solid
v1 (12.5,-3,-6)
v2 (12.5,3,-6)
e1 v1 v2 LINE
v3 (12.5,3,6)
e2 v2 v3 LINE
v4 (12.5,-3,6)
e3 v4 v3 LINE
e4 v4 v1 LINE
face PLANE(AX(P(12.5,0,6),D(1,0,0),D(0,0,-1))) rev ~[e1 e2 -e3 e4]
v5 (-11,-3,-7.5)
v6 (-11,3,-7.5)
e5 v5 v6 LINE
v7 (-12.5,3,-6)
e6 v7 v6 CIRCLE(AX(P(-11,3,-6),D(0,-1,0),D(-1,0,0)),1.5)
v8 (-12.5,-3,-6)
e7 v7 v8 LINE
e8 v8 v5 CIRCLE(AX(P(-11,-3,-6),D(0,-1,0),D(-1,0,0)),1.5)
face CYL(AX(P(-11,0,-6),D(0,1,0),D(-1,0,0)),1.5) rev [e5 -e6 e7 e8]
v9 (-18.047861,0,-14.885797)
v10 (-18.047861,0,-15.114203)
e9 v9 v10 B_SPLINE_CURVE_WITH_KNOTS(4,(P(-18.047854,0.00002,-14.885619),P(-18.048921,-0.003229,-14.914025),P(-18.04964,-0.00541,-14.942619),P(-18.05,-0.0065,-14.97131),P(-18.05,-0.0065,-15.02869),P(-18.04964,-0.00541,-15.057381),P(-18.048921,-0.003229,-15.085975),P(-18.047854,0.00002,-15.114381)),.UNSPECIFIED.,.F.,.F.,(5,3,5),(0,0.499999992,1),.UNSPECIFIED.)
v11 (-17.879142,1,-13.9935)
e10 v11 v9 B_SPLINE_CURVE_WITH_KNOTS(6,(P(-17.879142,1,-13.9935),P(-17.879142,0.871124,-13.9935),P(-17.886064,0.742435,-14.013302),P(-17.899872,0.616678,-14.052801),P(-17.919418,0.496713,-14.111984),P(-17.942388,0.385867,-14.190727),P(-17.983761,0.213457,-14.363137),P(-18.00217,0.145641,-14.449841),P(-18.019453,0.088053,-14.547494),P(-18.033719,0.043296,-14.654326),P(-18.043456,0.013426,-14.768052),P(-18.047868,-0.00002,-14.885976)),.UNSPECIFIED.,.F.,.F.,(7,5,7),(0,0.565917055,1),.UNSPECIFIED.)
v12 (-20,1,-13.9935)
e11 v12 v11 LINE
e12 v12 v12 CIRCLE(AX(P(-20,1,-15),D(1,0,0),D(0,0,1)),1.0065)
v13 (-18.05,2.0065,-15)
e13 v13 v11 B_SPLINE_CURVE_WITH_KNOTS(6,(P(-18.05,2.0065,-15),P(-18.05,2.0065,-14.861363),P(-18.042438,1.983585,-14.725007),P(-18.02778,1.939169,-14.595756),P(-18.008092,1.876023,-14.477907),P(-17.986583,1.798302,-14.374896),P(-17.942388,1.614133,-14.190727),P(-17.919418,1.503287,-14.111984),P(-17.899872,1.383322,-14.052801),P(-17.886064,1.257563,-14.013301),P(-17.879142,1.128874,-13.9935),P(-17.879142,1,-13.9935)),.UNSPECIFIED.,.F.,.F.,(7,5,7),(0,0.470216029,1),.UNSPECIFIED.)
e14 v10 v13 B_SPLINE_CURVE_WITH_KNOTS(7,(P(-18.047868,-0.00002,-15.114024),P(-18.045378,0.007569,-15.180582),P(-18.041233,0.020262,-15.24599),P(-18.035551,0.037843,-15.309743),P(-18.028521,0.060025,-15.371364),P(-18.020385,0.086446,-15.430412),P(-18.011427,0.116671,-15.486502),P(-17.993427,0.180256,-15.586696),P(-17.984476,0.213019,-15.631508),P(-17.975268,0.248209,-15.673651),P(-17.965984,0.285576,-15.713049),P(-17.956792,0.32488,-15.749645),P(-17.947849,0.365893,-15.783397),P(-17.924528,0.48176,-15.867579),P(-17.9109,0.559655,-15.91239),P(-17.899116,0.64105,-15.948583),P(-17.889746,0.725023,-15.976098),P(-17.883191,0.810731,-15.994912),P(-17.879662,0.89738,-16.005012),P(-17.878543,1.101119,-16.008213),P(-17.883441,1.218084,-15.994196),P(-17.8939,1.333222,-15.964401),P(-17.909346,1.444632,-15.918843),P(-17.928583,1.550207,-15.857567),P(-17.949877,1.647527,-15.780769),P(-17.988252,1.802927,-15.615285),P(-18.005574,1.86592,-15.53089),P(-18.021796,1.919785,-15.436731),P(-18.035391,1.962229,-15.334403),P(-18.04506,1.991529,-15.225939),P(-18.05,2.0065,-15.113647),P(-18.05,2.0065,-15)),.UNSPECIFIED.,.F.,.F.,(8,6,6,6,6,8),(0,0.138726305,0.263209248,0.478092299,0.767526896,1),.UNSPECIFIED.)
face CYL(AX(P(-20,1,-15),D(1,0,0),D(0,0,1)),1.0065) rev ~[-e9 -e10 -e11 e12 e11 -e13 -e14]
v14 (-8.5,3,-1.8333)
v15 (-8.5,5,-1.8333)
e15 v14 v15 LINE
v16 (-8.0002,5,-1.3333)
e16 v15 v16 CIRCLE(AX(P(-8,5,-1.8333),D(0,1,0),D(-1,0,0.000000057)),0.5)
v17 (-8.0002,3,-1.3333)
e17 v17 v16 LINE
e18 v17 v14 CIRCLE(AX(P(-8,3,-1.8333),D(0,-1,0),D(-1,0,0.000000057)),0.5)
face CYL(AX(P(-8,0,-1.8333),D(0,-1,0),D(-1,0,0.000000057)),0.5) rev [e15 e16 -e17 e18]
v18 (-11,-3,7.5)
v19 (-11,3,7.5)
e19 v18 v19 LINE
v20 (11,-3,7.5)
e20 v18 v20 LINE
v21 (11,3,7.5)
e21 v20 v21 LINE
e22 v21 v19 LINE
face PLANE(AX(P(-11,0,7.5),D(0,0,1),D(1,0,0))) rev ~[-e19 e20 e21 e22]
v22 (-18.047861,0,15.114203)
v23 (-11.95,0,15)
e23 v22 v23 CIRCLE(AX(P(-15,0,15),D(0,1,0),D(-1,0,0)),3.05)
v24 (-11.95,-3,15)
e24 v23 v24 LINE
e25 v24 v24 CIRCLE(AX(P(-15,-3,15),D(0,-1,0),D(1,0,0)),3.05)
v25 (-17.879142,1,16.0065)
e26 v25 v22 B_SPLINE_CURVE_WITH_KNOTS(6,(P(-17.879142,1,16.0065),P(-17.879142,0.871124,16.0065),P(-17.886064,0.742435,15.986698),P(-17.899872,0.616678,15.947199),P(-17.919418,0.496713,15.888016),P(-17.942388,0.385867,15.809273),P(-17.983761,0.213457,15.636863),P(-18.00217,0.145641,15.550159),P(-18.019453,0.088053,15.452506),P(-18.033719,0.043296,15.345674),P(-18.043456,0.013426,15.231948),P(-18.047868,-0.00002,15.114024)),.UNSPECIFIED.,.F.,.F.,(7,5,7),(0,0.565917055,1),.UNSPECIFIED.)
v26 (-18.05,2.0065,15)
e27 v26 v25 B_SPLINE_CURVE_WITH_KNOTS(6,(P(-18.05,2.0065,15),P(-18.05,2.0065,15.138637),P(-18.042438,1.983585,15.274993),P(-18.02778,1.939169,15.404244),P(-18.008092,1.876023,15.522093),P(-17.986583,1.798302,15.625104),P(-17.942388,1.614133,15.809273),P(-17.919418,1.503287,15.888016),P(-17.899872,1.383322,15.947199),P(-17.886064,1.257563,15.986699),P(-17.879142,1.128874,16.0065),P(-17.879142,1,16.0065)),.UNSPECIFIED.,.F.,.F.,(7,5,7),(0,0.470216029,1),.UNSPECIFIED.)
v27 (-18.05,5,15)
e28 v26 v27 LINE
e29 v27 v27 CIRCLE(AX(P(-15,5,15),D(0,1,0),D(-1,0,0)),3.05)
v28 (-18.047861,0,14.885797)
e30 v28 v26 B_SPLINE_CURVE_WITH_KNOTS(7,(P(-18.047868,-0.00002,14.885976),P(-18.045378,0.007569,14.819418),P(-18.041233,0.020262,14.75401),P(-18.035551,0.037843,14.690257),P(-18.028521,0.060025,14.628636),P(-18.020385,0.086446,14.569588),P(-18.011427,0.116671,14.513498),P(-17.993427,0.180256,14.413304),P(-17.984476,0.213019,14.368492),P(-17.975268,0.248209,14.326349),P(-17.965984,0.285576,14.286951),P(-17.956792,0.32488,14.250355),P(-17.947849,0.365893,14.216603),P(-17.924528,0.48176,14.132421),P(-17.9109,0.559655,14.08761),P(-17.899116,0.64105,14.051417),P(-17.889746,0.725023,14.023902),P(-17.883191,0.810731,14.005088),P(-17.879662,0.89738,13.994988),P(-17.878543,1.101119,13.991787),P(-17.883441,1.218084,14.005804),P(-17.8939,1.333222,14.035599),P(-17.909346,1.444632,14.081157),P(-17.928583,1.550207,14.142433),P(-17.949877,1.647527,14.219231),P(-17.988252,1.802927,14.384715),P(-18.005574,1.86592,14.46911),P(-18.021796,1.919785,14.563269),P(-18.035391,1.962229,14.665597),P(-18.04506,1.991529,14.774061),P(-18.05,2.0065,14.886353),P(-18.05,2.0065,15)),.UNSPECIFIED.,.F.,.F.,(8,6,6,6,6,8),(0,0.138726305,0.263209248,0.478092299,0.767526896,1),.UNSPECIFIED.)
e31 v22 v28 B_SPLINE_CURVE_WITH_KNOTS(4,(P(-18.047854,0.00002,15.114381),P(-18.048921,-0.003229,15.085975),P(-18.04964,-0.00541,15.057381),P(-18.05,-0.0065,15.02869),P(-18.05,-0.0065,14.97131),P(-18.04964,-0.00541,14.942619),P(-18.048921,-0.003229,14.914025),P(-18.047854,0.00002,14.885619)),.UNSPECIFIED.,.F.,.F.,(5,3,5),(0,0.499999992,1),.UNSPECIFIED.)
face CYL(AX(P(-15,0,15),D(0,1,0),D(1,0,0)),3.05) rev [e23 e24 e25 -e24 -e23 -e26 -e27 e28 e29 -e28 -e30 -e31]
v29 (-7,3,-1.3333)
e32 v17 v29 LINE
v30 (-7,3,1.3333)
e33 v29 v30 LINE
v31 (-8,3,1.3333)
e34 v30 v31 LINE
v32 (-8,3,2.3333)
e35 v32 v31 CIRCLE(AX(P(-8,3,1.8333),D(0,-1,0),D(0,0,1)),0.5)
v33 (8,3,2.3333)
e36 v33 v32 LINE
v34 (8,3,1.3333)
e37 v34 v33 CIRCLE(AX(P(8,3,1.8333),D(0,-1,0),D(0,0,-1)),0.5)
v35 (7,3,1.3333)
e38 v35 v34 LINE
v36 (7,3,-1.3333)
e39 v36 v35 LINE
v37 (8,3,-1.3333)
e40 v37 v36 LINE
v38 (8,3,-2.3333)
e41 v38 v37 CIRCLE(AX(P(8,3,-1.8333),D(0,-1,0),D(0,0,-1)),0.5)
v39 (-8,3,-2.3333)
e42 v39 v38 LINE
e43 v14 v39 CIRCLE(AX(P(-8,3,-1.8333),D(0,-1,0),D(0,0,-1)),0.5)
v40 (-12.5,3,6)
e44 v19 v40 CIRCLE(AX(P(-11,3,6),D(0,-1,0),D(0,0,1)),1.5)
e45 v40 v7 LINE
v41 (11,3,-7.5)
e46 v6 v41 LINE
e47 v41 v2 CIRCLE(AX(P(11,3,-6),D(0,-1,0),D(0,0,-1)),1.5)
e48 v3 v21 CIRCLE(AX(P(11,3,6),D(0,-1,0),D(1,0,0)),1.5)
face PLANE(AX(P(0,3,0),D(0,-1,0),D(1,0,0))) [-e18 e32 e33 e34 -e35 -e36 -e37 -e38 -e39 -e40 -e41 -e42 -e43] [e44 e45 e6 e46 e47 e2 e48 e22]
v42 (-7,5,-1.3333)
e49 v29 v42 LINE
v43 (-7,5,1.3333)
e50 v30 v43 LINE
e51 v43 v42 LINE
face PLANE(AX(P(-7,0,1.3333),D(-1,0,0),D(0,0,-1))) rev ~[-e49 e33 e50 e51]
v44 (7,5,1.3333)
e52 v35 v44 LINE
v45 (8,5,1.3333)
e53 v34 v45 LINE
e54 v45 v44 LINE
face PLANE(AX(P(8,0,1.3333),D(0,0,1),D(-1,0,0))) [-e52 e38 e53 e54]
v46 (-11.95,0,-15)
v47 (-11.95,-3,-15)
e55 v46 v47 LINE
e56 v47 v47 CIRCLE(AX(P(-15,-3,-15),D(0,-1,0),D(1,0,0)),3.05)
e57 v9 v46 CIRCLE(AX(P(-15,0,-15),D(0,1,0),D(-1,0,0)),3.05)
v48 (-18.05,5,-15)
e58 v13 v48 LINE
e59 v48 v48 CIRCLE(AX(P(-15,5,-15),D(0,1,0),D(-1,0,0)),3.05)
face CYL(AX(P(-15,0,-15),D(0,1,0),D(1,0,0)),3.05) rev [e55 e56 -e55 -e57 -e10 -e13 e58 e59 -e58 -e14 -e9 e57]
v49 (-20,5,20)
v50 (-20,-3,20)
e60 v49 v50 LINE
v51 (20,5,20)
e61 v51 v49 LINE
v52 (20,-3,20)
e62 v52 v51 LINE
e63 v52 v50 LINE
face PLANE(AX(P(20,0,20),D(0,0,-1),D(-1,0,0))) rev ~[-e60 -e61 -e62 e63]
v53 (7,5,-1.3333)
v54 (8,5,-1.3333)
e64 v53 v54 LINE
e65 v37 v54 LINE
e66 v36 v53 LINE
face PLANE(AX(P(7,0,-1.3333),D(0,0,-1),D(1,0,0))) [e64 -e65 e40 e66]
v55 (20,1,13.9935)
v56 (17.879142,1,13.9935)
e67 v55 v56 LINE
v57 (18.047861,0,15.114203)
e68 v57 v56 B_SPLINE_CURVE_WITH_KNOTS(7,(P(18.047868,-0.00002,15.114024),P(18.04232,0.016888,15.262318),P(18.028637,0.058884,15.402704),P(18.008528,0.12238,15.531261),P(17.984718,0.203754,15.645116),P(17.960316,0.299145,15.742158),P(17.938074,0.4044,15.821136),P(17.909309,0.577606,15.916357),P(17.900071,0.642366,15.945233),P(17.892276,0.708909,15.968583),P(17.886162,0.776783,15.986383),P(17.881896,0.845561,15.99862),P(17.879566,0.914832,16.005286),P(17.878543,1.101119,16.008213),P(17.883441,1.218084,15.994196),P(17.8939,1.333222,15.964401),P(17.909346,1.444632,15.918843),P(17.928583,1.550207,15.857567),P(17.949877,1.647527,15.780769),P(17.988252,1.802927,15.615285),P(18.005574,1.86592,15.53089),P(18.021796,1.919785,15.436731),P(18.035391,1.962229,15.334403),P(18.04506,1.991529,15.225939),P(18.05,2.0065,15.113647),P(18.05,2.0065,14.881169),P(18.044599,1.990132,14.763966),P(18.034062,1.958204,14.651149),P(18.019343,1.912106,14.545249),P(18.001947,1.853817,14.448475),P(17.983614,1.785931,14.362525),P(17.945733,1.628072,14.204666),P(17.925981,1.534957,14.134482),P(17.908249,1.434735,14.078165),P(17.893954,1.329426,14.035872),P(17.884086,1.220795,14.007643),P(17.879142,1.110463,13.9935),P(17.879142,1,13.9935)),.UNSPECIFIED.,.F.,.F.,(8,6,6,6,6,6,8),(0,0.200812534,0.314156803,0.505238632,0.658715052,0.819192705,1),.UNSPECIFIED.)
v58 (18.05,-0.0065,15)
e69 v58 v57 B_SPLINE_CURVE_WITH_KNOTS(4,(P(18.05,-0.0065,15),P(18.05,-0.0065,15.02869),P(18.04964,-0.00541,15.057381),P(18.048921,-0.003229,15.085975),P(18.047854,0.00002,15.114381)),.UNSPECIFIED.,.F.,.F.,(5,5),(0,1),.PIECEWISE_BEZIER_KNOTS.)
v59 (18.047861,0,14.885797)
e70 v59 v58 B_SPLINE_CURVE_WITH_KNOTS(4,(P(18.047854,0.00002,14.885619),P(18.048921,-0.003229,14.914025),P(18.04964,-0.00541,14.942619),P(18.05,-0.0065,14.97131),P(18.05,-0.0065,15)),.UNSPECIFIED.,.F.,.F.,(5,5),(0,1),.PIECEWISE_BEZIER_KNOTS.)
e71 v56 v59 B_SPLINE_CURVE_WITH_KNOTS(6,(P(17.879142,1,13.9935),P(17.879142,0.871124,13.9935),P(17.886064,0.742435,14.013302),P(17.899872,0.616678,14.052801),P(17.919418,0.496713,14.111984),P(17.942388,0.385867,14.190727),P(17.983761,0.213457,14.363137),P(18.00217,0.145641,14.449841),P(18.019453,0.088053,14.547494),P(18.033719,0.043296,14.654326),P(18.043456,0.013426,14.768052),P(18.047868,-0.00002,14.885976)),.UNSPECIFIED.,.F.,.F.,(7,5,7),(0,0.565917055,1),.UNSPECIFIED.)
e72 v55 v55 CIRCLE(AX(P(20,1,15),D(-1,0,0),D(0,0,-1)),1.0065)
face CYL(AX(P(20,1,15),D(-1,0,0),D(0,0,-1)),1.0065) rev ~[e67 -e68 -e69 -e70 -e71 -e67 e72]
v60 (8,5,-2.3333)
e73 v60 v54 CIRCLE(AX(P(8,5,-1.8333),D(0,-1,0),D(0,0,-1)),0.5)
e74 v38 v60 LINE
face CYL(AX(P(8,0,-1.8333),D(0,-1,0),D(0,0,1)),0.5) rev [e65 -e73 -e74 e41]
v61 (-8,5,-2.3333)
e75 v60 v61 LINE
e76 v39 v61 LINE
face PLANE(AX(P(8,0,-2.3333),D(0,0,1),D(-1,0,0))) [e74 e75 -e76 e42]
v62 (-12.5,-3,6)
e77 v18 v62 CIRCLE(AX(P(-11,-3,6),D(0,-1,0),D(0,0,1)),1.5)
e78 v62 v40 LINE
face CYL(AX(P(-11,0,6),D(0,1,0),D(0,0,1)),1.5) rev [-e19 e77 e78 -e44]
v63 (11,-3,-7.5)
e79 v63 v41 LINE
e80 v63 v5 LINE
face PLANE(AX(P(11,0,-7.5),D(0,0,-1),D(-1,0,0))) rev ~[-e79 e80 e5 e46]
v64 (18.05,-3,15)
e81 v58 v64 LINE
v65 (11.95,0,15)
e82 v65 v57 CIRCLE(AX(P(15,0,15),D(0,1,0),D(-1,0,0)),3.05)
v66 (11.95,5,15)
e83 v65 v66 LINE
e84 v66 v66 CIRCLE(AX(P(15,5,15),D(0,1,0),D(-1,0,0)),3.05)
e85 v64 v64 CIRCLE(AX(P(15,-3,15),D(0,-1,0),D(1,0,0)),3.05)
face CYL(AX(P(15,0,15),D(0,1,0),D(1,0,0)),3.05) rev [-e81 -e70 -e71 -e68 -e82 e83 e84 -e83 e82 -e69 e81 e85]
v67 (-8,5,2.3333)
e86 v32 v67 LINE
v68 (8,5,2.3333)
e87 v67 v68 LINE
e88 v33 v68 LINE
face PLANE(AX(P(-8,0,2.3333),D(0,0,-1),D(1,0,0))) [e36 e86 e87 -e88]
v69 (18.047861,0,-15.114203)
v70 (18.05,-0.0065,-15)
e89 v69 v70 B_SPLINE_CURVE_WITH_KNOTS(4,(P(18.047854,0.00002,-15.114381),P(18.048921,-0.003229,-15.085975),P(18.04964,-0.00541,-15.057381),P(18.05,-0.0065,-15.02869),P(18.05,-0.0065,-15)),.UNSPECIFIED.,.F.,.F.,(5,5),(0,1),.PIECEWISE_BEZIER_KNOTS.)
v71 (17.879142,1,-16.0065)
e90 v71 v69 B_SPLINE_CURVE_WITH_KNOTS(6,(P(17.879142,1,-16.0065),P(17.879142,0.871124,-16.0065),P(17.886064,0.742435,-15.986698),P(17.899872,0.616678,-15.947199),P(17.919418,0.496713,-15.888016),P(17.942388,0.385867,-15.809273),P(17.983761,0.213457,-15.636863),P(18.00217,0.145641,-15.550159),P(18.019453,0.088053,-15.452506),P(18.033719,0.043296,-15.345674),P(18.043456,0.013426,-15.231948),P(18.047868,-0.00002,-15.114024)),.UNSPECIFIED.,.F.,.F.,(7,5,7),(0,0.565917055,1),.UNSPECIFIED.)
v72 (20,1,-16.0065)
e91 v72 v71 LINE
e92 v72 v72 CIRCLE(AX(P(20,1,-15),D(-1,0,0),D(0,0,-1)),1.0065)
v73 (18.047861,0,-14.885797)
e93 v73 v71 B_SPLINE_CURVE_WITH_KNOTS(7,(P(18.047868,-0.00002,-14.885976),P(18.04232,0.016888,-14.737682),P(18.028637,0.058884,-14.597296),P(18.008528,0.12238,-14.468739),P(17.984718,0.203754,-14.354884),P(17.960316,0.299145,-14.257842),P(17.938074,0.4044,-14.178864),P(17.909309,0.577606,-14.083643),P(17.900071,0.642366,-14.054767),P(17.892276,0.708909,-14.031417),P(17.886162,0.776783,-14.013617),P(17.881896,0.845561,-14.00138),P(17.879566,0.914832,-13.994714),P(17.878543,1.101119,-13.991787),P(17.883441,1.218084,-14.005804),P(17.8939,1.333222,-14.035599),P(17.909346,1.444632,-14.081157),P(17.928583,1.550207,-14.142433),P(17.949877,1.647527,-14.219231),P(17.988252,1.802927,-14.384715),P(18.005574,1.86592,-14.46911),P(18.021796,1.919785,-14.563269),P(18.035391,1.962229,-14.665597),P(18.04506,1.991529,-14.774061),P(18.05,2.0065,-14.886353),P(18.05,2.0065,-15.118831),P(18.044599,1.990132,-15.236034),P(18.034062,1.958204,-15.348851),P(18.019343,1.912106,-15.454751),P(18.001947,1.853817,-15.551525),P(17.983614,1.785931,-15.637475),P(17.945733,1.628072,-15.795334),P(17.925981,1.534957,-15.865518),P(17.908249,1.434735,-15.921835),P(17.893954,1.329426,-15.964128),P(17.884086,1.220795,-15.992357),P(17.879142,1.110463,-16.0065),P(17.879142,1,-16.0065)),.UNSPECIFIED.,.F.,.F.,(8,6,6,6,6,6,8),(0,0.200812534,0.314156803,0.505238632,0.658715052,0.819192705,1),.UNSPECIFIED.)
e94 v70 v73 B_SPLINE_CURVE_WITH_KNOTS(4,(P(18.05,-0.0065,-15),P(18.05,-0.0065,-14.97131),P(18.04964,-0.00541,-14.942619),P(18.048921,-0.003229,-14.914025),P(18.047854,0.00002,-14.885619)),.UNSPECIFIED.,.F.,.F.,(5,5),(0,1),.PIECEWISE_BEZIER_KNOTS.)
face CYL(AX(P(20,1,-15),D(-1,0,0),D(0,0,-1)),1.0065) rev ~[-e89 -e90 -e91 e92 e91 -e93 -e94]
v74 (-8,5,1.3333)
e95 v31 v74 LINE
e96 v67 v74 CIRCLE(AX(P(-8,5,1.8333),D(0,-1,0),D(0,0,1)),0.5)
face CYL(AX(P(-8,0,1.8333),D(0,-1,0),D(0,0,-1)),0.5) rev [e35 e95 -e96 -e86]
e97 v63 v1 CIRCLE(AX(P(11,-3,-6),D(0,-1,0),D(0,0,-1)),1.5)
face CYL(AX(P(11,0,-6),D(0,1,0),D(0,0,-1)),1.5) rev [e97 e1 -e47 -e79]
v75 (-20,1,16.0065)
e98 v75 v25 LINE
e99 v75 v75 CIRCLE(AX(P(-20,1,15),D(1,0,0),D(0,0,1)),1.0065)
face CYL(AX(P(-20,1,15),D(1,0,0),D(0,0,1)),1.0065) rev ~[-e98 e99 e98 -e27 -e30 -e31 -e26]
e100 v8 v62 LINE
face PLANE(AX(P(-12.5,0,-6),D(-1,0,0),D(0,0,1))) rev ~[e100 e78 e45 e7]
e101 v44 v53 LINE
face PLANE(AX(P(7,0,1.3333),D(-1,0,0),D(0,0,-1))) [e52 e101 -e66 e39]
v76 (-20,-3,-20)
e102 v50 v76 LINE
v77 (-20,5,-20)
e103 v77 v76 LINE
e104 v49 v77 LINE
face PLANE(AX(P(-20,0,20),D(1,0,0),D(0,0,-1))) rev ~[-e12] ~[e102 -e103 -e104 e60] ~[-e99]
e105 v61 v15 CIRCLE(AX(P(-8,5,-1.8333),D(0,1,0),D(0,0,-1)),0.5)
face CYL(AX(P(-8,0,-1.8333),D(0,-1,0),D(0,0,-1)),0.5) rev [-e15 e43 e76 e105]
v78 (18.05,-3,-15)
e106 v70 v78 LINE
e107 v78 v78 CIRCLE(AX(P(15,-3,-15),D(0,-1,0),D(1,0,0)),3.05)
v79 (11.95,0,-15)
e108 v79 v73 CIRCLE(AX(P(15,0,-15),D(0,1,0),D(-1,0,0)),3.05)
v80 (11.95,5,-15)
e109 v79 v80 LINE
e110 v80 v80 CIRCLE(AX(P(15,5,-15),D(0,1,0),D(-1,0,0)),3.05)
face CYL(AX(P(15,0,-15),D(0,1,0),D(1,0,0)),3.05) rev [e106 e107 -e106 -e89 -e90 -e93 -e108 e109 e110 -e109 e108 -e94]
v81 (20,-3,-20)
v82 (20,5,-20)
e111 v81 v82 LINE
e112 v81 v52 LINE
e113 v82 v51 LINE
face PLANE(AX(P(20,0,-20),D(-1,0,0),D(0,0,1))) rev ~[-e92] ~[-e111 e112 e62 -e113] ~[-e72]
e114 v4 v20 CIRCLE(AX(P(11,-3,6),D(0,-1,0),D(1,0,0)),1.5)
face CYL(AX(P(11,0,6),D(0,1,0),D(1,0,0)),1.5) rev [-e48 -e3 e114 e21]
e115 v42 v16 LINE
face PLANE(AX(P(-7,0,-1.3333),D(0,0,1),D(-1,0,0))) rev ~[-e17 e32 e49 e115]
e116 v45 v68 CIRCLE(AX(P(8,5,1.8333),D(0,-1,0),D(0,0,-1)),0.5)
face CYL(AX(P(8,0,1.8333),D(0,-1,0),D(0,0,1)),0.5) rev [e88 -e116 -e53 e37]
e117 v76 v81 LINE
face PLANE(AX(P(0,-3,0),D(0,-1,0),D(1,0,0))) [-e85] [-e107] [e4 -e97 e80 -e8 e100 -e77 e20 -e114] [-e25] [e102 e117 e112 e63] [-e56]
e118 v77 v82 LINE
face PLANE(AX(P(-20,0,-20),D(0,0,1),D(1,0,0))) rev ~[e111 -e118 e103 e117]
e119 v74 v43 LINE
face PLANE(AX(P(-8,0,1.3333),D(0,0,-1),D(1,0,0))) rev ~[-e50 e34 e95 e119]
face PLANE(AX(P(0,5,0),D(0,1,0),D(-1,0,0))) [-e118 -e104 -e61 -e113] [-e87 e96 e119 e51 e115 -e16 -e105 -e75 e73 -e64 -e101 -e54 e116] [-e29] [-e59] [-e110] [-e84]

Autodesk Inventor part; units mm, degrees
ref_plane "YZ Plane" through (0, 0, 0) normal (1, 0, 0) x (0, 1, 0)
ref_plane "XZ Plane" through (0, 0, 0) normal (0, 1, 0) x (-1, 0, 0)
ref_plane "XY Plane" through (0, 0, 0) normal (0, 0, 1) x (1, 0, 0)
sketch "Sketch1" plane through (0, 0, 0) normal (0, 1, 0) x (-1, 0, 0)
  line L0 (20, 20) -> (20, -20)
  line L1 (20, -20) -> (-20, -20)
  line L2 (-20, -20) -> (-20, 20)
  line L3 (-20, 20) -> (20, 20)
  line L4 (-15, 15) -> (-15, -15) construction
  line L5 (-15, -15) -> (15, -15) construction
  line L6 (15, -15) -> (15, 15) construction
  line L7 (15, 15) -> (-15, 15) construction
  circle A0 centre (15, 15) radius 3.05
  circle A1 centre (15, -15) radius 3.05
  circle A2 centre (-15, -15) radius 3.05
  circle A3 centre (-15, 15) radius 3.05
  line L8 (0, 0) -> (-18.5703, 0) construction
  line L9 (0, 0) -> (0, 25.6262) construction
  line L10 (0, 0) -> (-18.05, 0) construction
  line L11 (8, 2.3333) -> (-8, 2.3333)
  line L12 (-8.5, 1.8333) -> (-8.5, 1.8333)
  line L13 (8.5, 1.8333) -> (8.5, 1.8333)
  line L14 (8.5, 2.3333) -> (-8.5, 3.0056) construction
  line L15 (-8.5, 2.3333) -> (8.5, 3.0548) construction
  arc A4 (8.5, 1.8333) -> (8, 2.3333) centre (8, 1.8333) ccw
  arc A5 (8, 1.3333) -> (8.5, 1.8333) centre (8, 1.8333) ccw
  arc A6 (-8.5, 1.8333) -> (-8, 1.3333) centre (-8, 1.8333) ccw
  arc A7 (-8, 2.3333) -> (-8.5, 1.8333) centre (-8, 1.8333) ccw
  line L16 (-8.5, -1.8333) -> (-8.5, -1.8333)
  line L17 (-8, -2.3333) -> (8, -2.3333)
  line L18 (8.5, -1.8333) -> (8.5, -1.8333)
  line L19 (8.5, -0.691) -> (-8.5, -2.3333) construction
  line L20 (-8.5, -0.6827) -> (8.5, -2.3333) construction
  arc A8 (8.5, -1.8333) -> (8.0002, -1.3333) centre (8, -1.8333) ccw
  arc A9 (8, -2.3333) -> (8.5, -1.8333) centre (8, -1.8333) ccw
  arc A10 (-8.5, -1.8333) -> (-8, -2.3333) centre (-8, -1.8333) ccw
  arc A11 (-8, -1.3333) -> (-8.5, -1.8333) centre (-8, -1.8333) ccw
  line L21 (8, 1.3333) -> (7, 1.3333)
  line L22 (7, 1.3333) -> (7, -1.3333)
  line L23 (7, -1.3333) -> (8.0002, -1.3333)
  line L24 (-8, 1.3333) -> (-7, 1.3333)
  line L25 (-7, 1.3333) -> (-7, -1.3333)
  line L26 (-7, -1.3333) -> (-8, -1.3333)
  point P0 (0, -12.01)
  point P1 (-0.3001, 2.6813)
  point P2 (0, 2.694)
  point P3 (0.0215, -1.5101)
  point P4 (0, -1.508)
  point P5 (0, -1.5122)
  dimension "d0" = 40
  dimension "d1" = 40
  dimension "d2" = 30
  dimension "d53" = 20
  dimension "d114" = 17
  dimension "d117" = 0.5
  dimension "d140" = 17
  dimension "d142" = 0.5
  dimension "d146" = 14
  dimension "d147" = 7
  dimension "d150" = 1.3333
  dimension "d151" = 1.3333
  dimension "d152" = 2.3333
  dimension "d153" = 2.3333
extrude "Extrusion15" add sketch "Sketch1" along normal blind 5
sketch "Sketch11" plane through (0, 0, 0) normal (0, -1, 0) x (1, 0, 0)
  line L0 (-11, -7.5) -> (11, -7.5)
  line L1 (12.5, -6) -> (12.5, 6)
  line L2 (11, 7.5) -> (-11, 7.5)
  line L3 (-12.5, 6) -> (-12.5, -6)
  line L4 (-12.5, -7.5) -> (12.5, 7.5) construction
  line L5 (12.5, -7.5) -> (-12.5, 7.5) construction
  arc A0 (-11, 7.5) -> (-12.5, 6) centre (-11, 6) ccw
  arc A1 (-12.5, -6) -> (-11, -7.5) centre (-11, -6) ccw
  arc A2 (11, -7.5) -> (12.5, -6) centre (11, -6) ccw
  arc A3 (12.5, 6) -> (11, 7.5) centre (11, 6) ccw
  point P0 (0, 0)
  dimension "d154" = 15
  dimension "d155" = 25
  dimension "d156" = 1.5
extrude "Extrusion16" cut sketch "Sketch11" against normal blind 3
sketch "Sketch14" plane through (0, 0, 0) normal (0, -1, 0) x (1, 0, 0)
  arc A0 (-12.5, -6) -> (-11, -7.5) centre (-11, -6) ccw projected
  line L0 (-12.5, -6) -> (-12.5, 6) projected
  arc A1 (-11, 7.5) -> (-12.5, 6) centre (-11, 6) ccw projected
  line L1 (-11, 7.5) -> (11, 7.5) projected
  arc A2 (12.5, 6) -> (11, 7.5) centre (11, 6) ccw projected
  line L2 (12.5, 6) -> (12.5, -6) projected
  arc A3 (11, -7.5) -> (12.5, -6) centre (11, -6) ccw projected
  line L3 (11, -7.5) -> (-11, -7.5) projected
  circle A4 centre (15, 15) radius 3.05 projected
  circle A5 centre (15, -15) radius 3.05 projected
  circle A6 centre (-15, -15) radius 3.05 projected
  circle A7 centre (-15, 15) radius 3.05 projected
  line L4 (-20, 20) -> (-20, -20) projected
  line L5 (-20, -20) -> (20, -20) projected
  line L6 (20, -20) -> (20, 20) projected
  line L7 (20, 20) -> (-20, 20) projected
  point P0 (0, 0)
extrude "Extrusion17" add sketch "Sketch14" along normal blind 3
sketch "Sketch12" plane through (20, 0, 20) normal (1, 0, 0) x (0, 0, -1)
  line L0 (40, 5) -> (40, -3) projected
  line L1 (0, 5) -> (40, 5) projected
  line L2 (0, 5) -> (0, -3) projected
  line L3 (40, -3) -> (0, -3) projected
  point P0 (20, 0)
  point P1 (5, 1)
  point P2 (35, 1)
  dimension "d163" = 5
  dimension "d164" = 5
  dimension "d165" = 4
  dimension "d166" = 4
hole "Hole1" at (20, 1, 15) at (20, 1, -15) direction (-1, 0, 0) diameter 2.013 depth 5 tip angle 118 thread size "M2.5x0.45" class "6H" standard "ISO Metric profile"
sketch "Sketch13" plane through (-20, 0, -20) normal (-1, 0, 0) x (0, 0, 1)
  line L0 (40, -3) -> (40, 5) projected
  line L1 (0, 5) -> (40, 5) projected
  line L2 (0, 5) -> (0, -3) projected
  circle A0 centre (35, 1) radius 1.0065 projected
  circle A1 centre (5, 1) radius 1.0065 projected
  line L3 (40, -3) -> (0, -3) projected
  point P0 (20, 0)
  point P1 (33.9935, 1)
  point P2 (3.9935, 1)
hole "Hole2" at (-20, 1, 15) at (-20, 1, -15) direction (1, 0, 0) diameter 2.013 depth 5 tip angle 118 thread size "M2.5x0.45" class "6H" standard "ISO Metric profile"
equation "\"d1\" = d0"
properties part number "HolderStart"
